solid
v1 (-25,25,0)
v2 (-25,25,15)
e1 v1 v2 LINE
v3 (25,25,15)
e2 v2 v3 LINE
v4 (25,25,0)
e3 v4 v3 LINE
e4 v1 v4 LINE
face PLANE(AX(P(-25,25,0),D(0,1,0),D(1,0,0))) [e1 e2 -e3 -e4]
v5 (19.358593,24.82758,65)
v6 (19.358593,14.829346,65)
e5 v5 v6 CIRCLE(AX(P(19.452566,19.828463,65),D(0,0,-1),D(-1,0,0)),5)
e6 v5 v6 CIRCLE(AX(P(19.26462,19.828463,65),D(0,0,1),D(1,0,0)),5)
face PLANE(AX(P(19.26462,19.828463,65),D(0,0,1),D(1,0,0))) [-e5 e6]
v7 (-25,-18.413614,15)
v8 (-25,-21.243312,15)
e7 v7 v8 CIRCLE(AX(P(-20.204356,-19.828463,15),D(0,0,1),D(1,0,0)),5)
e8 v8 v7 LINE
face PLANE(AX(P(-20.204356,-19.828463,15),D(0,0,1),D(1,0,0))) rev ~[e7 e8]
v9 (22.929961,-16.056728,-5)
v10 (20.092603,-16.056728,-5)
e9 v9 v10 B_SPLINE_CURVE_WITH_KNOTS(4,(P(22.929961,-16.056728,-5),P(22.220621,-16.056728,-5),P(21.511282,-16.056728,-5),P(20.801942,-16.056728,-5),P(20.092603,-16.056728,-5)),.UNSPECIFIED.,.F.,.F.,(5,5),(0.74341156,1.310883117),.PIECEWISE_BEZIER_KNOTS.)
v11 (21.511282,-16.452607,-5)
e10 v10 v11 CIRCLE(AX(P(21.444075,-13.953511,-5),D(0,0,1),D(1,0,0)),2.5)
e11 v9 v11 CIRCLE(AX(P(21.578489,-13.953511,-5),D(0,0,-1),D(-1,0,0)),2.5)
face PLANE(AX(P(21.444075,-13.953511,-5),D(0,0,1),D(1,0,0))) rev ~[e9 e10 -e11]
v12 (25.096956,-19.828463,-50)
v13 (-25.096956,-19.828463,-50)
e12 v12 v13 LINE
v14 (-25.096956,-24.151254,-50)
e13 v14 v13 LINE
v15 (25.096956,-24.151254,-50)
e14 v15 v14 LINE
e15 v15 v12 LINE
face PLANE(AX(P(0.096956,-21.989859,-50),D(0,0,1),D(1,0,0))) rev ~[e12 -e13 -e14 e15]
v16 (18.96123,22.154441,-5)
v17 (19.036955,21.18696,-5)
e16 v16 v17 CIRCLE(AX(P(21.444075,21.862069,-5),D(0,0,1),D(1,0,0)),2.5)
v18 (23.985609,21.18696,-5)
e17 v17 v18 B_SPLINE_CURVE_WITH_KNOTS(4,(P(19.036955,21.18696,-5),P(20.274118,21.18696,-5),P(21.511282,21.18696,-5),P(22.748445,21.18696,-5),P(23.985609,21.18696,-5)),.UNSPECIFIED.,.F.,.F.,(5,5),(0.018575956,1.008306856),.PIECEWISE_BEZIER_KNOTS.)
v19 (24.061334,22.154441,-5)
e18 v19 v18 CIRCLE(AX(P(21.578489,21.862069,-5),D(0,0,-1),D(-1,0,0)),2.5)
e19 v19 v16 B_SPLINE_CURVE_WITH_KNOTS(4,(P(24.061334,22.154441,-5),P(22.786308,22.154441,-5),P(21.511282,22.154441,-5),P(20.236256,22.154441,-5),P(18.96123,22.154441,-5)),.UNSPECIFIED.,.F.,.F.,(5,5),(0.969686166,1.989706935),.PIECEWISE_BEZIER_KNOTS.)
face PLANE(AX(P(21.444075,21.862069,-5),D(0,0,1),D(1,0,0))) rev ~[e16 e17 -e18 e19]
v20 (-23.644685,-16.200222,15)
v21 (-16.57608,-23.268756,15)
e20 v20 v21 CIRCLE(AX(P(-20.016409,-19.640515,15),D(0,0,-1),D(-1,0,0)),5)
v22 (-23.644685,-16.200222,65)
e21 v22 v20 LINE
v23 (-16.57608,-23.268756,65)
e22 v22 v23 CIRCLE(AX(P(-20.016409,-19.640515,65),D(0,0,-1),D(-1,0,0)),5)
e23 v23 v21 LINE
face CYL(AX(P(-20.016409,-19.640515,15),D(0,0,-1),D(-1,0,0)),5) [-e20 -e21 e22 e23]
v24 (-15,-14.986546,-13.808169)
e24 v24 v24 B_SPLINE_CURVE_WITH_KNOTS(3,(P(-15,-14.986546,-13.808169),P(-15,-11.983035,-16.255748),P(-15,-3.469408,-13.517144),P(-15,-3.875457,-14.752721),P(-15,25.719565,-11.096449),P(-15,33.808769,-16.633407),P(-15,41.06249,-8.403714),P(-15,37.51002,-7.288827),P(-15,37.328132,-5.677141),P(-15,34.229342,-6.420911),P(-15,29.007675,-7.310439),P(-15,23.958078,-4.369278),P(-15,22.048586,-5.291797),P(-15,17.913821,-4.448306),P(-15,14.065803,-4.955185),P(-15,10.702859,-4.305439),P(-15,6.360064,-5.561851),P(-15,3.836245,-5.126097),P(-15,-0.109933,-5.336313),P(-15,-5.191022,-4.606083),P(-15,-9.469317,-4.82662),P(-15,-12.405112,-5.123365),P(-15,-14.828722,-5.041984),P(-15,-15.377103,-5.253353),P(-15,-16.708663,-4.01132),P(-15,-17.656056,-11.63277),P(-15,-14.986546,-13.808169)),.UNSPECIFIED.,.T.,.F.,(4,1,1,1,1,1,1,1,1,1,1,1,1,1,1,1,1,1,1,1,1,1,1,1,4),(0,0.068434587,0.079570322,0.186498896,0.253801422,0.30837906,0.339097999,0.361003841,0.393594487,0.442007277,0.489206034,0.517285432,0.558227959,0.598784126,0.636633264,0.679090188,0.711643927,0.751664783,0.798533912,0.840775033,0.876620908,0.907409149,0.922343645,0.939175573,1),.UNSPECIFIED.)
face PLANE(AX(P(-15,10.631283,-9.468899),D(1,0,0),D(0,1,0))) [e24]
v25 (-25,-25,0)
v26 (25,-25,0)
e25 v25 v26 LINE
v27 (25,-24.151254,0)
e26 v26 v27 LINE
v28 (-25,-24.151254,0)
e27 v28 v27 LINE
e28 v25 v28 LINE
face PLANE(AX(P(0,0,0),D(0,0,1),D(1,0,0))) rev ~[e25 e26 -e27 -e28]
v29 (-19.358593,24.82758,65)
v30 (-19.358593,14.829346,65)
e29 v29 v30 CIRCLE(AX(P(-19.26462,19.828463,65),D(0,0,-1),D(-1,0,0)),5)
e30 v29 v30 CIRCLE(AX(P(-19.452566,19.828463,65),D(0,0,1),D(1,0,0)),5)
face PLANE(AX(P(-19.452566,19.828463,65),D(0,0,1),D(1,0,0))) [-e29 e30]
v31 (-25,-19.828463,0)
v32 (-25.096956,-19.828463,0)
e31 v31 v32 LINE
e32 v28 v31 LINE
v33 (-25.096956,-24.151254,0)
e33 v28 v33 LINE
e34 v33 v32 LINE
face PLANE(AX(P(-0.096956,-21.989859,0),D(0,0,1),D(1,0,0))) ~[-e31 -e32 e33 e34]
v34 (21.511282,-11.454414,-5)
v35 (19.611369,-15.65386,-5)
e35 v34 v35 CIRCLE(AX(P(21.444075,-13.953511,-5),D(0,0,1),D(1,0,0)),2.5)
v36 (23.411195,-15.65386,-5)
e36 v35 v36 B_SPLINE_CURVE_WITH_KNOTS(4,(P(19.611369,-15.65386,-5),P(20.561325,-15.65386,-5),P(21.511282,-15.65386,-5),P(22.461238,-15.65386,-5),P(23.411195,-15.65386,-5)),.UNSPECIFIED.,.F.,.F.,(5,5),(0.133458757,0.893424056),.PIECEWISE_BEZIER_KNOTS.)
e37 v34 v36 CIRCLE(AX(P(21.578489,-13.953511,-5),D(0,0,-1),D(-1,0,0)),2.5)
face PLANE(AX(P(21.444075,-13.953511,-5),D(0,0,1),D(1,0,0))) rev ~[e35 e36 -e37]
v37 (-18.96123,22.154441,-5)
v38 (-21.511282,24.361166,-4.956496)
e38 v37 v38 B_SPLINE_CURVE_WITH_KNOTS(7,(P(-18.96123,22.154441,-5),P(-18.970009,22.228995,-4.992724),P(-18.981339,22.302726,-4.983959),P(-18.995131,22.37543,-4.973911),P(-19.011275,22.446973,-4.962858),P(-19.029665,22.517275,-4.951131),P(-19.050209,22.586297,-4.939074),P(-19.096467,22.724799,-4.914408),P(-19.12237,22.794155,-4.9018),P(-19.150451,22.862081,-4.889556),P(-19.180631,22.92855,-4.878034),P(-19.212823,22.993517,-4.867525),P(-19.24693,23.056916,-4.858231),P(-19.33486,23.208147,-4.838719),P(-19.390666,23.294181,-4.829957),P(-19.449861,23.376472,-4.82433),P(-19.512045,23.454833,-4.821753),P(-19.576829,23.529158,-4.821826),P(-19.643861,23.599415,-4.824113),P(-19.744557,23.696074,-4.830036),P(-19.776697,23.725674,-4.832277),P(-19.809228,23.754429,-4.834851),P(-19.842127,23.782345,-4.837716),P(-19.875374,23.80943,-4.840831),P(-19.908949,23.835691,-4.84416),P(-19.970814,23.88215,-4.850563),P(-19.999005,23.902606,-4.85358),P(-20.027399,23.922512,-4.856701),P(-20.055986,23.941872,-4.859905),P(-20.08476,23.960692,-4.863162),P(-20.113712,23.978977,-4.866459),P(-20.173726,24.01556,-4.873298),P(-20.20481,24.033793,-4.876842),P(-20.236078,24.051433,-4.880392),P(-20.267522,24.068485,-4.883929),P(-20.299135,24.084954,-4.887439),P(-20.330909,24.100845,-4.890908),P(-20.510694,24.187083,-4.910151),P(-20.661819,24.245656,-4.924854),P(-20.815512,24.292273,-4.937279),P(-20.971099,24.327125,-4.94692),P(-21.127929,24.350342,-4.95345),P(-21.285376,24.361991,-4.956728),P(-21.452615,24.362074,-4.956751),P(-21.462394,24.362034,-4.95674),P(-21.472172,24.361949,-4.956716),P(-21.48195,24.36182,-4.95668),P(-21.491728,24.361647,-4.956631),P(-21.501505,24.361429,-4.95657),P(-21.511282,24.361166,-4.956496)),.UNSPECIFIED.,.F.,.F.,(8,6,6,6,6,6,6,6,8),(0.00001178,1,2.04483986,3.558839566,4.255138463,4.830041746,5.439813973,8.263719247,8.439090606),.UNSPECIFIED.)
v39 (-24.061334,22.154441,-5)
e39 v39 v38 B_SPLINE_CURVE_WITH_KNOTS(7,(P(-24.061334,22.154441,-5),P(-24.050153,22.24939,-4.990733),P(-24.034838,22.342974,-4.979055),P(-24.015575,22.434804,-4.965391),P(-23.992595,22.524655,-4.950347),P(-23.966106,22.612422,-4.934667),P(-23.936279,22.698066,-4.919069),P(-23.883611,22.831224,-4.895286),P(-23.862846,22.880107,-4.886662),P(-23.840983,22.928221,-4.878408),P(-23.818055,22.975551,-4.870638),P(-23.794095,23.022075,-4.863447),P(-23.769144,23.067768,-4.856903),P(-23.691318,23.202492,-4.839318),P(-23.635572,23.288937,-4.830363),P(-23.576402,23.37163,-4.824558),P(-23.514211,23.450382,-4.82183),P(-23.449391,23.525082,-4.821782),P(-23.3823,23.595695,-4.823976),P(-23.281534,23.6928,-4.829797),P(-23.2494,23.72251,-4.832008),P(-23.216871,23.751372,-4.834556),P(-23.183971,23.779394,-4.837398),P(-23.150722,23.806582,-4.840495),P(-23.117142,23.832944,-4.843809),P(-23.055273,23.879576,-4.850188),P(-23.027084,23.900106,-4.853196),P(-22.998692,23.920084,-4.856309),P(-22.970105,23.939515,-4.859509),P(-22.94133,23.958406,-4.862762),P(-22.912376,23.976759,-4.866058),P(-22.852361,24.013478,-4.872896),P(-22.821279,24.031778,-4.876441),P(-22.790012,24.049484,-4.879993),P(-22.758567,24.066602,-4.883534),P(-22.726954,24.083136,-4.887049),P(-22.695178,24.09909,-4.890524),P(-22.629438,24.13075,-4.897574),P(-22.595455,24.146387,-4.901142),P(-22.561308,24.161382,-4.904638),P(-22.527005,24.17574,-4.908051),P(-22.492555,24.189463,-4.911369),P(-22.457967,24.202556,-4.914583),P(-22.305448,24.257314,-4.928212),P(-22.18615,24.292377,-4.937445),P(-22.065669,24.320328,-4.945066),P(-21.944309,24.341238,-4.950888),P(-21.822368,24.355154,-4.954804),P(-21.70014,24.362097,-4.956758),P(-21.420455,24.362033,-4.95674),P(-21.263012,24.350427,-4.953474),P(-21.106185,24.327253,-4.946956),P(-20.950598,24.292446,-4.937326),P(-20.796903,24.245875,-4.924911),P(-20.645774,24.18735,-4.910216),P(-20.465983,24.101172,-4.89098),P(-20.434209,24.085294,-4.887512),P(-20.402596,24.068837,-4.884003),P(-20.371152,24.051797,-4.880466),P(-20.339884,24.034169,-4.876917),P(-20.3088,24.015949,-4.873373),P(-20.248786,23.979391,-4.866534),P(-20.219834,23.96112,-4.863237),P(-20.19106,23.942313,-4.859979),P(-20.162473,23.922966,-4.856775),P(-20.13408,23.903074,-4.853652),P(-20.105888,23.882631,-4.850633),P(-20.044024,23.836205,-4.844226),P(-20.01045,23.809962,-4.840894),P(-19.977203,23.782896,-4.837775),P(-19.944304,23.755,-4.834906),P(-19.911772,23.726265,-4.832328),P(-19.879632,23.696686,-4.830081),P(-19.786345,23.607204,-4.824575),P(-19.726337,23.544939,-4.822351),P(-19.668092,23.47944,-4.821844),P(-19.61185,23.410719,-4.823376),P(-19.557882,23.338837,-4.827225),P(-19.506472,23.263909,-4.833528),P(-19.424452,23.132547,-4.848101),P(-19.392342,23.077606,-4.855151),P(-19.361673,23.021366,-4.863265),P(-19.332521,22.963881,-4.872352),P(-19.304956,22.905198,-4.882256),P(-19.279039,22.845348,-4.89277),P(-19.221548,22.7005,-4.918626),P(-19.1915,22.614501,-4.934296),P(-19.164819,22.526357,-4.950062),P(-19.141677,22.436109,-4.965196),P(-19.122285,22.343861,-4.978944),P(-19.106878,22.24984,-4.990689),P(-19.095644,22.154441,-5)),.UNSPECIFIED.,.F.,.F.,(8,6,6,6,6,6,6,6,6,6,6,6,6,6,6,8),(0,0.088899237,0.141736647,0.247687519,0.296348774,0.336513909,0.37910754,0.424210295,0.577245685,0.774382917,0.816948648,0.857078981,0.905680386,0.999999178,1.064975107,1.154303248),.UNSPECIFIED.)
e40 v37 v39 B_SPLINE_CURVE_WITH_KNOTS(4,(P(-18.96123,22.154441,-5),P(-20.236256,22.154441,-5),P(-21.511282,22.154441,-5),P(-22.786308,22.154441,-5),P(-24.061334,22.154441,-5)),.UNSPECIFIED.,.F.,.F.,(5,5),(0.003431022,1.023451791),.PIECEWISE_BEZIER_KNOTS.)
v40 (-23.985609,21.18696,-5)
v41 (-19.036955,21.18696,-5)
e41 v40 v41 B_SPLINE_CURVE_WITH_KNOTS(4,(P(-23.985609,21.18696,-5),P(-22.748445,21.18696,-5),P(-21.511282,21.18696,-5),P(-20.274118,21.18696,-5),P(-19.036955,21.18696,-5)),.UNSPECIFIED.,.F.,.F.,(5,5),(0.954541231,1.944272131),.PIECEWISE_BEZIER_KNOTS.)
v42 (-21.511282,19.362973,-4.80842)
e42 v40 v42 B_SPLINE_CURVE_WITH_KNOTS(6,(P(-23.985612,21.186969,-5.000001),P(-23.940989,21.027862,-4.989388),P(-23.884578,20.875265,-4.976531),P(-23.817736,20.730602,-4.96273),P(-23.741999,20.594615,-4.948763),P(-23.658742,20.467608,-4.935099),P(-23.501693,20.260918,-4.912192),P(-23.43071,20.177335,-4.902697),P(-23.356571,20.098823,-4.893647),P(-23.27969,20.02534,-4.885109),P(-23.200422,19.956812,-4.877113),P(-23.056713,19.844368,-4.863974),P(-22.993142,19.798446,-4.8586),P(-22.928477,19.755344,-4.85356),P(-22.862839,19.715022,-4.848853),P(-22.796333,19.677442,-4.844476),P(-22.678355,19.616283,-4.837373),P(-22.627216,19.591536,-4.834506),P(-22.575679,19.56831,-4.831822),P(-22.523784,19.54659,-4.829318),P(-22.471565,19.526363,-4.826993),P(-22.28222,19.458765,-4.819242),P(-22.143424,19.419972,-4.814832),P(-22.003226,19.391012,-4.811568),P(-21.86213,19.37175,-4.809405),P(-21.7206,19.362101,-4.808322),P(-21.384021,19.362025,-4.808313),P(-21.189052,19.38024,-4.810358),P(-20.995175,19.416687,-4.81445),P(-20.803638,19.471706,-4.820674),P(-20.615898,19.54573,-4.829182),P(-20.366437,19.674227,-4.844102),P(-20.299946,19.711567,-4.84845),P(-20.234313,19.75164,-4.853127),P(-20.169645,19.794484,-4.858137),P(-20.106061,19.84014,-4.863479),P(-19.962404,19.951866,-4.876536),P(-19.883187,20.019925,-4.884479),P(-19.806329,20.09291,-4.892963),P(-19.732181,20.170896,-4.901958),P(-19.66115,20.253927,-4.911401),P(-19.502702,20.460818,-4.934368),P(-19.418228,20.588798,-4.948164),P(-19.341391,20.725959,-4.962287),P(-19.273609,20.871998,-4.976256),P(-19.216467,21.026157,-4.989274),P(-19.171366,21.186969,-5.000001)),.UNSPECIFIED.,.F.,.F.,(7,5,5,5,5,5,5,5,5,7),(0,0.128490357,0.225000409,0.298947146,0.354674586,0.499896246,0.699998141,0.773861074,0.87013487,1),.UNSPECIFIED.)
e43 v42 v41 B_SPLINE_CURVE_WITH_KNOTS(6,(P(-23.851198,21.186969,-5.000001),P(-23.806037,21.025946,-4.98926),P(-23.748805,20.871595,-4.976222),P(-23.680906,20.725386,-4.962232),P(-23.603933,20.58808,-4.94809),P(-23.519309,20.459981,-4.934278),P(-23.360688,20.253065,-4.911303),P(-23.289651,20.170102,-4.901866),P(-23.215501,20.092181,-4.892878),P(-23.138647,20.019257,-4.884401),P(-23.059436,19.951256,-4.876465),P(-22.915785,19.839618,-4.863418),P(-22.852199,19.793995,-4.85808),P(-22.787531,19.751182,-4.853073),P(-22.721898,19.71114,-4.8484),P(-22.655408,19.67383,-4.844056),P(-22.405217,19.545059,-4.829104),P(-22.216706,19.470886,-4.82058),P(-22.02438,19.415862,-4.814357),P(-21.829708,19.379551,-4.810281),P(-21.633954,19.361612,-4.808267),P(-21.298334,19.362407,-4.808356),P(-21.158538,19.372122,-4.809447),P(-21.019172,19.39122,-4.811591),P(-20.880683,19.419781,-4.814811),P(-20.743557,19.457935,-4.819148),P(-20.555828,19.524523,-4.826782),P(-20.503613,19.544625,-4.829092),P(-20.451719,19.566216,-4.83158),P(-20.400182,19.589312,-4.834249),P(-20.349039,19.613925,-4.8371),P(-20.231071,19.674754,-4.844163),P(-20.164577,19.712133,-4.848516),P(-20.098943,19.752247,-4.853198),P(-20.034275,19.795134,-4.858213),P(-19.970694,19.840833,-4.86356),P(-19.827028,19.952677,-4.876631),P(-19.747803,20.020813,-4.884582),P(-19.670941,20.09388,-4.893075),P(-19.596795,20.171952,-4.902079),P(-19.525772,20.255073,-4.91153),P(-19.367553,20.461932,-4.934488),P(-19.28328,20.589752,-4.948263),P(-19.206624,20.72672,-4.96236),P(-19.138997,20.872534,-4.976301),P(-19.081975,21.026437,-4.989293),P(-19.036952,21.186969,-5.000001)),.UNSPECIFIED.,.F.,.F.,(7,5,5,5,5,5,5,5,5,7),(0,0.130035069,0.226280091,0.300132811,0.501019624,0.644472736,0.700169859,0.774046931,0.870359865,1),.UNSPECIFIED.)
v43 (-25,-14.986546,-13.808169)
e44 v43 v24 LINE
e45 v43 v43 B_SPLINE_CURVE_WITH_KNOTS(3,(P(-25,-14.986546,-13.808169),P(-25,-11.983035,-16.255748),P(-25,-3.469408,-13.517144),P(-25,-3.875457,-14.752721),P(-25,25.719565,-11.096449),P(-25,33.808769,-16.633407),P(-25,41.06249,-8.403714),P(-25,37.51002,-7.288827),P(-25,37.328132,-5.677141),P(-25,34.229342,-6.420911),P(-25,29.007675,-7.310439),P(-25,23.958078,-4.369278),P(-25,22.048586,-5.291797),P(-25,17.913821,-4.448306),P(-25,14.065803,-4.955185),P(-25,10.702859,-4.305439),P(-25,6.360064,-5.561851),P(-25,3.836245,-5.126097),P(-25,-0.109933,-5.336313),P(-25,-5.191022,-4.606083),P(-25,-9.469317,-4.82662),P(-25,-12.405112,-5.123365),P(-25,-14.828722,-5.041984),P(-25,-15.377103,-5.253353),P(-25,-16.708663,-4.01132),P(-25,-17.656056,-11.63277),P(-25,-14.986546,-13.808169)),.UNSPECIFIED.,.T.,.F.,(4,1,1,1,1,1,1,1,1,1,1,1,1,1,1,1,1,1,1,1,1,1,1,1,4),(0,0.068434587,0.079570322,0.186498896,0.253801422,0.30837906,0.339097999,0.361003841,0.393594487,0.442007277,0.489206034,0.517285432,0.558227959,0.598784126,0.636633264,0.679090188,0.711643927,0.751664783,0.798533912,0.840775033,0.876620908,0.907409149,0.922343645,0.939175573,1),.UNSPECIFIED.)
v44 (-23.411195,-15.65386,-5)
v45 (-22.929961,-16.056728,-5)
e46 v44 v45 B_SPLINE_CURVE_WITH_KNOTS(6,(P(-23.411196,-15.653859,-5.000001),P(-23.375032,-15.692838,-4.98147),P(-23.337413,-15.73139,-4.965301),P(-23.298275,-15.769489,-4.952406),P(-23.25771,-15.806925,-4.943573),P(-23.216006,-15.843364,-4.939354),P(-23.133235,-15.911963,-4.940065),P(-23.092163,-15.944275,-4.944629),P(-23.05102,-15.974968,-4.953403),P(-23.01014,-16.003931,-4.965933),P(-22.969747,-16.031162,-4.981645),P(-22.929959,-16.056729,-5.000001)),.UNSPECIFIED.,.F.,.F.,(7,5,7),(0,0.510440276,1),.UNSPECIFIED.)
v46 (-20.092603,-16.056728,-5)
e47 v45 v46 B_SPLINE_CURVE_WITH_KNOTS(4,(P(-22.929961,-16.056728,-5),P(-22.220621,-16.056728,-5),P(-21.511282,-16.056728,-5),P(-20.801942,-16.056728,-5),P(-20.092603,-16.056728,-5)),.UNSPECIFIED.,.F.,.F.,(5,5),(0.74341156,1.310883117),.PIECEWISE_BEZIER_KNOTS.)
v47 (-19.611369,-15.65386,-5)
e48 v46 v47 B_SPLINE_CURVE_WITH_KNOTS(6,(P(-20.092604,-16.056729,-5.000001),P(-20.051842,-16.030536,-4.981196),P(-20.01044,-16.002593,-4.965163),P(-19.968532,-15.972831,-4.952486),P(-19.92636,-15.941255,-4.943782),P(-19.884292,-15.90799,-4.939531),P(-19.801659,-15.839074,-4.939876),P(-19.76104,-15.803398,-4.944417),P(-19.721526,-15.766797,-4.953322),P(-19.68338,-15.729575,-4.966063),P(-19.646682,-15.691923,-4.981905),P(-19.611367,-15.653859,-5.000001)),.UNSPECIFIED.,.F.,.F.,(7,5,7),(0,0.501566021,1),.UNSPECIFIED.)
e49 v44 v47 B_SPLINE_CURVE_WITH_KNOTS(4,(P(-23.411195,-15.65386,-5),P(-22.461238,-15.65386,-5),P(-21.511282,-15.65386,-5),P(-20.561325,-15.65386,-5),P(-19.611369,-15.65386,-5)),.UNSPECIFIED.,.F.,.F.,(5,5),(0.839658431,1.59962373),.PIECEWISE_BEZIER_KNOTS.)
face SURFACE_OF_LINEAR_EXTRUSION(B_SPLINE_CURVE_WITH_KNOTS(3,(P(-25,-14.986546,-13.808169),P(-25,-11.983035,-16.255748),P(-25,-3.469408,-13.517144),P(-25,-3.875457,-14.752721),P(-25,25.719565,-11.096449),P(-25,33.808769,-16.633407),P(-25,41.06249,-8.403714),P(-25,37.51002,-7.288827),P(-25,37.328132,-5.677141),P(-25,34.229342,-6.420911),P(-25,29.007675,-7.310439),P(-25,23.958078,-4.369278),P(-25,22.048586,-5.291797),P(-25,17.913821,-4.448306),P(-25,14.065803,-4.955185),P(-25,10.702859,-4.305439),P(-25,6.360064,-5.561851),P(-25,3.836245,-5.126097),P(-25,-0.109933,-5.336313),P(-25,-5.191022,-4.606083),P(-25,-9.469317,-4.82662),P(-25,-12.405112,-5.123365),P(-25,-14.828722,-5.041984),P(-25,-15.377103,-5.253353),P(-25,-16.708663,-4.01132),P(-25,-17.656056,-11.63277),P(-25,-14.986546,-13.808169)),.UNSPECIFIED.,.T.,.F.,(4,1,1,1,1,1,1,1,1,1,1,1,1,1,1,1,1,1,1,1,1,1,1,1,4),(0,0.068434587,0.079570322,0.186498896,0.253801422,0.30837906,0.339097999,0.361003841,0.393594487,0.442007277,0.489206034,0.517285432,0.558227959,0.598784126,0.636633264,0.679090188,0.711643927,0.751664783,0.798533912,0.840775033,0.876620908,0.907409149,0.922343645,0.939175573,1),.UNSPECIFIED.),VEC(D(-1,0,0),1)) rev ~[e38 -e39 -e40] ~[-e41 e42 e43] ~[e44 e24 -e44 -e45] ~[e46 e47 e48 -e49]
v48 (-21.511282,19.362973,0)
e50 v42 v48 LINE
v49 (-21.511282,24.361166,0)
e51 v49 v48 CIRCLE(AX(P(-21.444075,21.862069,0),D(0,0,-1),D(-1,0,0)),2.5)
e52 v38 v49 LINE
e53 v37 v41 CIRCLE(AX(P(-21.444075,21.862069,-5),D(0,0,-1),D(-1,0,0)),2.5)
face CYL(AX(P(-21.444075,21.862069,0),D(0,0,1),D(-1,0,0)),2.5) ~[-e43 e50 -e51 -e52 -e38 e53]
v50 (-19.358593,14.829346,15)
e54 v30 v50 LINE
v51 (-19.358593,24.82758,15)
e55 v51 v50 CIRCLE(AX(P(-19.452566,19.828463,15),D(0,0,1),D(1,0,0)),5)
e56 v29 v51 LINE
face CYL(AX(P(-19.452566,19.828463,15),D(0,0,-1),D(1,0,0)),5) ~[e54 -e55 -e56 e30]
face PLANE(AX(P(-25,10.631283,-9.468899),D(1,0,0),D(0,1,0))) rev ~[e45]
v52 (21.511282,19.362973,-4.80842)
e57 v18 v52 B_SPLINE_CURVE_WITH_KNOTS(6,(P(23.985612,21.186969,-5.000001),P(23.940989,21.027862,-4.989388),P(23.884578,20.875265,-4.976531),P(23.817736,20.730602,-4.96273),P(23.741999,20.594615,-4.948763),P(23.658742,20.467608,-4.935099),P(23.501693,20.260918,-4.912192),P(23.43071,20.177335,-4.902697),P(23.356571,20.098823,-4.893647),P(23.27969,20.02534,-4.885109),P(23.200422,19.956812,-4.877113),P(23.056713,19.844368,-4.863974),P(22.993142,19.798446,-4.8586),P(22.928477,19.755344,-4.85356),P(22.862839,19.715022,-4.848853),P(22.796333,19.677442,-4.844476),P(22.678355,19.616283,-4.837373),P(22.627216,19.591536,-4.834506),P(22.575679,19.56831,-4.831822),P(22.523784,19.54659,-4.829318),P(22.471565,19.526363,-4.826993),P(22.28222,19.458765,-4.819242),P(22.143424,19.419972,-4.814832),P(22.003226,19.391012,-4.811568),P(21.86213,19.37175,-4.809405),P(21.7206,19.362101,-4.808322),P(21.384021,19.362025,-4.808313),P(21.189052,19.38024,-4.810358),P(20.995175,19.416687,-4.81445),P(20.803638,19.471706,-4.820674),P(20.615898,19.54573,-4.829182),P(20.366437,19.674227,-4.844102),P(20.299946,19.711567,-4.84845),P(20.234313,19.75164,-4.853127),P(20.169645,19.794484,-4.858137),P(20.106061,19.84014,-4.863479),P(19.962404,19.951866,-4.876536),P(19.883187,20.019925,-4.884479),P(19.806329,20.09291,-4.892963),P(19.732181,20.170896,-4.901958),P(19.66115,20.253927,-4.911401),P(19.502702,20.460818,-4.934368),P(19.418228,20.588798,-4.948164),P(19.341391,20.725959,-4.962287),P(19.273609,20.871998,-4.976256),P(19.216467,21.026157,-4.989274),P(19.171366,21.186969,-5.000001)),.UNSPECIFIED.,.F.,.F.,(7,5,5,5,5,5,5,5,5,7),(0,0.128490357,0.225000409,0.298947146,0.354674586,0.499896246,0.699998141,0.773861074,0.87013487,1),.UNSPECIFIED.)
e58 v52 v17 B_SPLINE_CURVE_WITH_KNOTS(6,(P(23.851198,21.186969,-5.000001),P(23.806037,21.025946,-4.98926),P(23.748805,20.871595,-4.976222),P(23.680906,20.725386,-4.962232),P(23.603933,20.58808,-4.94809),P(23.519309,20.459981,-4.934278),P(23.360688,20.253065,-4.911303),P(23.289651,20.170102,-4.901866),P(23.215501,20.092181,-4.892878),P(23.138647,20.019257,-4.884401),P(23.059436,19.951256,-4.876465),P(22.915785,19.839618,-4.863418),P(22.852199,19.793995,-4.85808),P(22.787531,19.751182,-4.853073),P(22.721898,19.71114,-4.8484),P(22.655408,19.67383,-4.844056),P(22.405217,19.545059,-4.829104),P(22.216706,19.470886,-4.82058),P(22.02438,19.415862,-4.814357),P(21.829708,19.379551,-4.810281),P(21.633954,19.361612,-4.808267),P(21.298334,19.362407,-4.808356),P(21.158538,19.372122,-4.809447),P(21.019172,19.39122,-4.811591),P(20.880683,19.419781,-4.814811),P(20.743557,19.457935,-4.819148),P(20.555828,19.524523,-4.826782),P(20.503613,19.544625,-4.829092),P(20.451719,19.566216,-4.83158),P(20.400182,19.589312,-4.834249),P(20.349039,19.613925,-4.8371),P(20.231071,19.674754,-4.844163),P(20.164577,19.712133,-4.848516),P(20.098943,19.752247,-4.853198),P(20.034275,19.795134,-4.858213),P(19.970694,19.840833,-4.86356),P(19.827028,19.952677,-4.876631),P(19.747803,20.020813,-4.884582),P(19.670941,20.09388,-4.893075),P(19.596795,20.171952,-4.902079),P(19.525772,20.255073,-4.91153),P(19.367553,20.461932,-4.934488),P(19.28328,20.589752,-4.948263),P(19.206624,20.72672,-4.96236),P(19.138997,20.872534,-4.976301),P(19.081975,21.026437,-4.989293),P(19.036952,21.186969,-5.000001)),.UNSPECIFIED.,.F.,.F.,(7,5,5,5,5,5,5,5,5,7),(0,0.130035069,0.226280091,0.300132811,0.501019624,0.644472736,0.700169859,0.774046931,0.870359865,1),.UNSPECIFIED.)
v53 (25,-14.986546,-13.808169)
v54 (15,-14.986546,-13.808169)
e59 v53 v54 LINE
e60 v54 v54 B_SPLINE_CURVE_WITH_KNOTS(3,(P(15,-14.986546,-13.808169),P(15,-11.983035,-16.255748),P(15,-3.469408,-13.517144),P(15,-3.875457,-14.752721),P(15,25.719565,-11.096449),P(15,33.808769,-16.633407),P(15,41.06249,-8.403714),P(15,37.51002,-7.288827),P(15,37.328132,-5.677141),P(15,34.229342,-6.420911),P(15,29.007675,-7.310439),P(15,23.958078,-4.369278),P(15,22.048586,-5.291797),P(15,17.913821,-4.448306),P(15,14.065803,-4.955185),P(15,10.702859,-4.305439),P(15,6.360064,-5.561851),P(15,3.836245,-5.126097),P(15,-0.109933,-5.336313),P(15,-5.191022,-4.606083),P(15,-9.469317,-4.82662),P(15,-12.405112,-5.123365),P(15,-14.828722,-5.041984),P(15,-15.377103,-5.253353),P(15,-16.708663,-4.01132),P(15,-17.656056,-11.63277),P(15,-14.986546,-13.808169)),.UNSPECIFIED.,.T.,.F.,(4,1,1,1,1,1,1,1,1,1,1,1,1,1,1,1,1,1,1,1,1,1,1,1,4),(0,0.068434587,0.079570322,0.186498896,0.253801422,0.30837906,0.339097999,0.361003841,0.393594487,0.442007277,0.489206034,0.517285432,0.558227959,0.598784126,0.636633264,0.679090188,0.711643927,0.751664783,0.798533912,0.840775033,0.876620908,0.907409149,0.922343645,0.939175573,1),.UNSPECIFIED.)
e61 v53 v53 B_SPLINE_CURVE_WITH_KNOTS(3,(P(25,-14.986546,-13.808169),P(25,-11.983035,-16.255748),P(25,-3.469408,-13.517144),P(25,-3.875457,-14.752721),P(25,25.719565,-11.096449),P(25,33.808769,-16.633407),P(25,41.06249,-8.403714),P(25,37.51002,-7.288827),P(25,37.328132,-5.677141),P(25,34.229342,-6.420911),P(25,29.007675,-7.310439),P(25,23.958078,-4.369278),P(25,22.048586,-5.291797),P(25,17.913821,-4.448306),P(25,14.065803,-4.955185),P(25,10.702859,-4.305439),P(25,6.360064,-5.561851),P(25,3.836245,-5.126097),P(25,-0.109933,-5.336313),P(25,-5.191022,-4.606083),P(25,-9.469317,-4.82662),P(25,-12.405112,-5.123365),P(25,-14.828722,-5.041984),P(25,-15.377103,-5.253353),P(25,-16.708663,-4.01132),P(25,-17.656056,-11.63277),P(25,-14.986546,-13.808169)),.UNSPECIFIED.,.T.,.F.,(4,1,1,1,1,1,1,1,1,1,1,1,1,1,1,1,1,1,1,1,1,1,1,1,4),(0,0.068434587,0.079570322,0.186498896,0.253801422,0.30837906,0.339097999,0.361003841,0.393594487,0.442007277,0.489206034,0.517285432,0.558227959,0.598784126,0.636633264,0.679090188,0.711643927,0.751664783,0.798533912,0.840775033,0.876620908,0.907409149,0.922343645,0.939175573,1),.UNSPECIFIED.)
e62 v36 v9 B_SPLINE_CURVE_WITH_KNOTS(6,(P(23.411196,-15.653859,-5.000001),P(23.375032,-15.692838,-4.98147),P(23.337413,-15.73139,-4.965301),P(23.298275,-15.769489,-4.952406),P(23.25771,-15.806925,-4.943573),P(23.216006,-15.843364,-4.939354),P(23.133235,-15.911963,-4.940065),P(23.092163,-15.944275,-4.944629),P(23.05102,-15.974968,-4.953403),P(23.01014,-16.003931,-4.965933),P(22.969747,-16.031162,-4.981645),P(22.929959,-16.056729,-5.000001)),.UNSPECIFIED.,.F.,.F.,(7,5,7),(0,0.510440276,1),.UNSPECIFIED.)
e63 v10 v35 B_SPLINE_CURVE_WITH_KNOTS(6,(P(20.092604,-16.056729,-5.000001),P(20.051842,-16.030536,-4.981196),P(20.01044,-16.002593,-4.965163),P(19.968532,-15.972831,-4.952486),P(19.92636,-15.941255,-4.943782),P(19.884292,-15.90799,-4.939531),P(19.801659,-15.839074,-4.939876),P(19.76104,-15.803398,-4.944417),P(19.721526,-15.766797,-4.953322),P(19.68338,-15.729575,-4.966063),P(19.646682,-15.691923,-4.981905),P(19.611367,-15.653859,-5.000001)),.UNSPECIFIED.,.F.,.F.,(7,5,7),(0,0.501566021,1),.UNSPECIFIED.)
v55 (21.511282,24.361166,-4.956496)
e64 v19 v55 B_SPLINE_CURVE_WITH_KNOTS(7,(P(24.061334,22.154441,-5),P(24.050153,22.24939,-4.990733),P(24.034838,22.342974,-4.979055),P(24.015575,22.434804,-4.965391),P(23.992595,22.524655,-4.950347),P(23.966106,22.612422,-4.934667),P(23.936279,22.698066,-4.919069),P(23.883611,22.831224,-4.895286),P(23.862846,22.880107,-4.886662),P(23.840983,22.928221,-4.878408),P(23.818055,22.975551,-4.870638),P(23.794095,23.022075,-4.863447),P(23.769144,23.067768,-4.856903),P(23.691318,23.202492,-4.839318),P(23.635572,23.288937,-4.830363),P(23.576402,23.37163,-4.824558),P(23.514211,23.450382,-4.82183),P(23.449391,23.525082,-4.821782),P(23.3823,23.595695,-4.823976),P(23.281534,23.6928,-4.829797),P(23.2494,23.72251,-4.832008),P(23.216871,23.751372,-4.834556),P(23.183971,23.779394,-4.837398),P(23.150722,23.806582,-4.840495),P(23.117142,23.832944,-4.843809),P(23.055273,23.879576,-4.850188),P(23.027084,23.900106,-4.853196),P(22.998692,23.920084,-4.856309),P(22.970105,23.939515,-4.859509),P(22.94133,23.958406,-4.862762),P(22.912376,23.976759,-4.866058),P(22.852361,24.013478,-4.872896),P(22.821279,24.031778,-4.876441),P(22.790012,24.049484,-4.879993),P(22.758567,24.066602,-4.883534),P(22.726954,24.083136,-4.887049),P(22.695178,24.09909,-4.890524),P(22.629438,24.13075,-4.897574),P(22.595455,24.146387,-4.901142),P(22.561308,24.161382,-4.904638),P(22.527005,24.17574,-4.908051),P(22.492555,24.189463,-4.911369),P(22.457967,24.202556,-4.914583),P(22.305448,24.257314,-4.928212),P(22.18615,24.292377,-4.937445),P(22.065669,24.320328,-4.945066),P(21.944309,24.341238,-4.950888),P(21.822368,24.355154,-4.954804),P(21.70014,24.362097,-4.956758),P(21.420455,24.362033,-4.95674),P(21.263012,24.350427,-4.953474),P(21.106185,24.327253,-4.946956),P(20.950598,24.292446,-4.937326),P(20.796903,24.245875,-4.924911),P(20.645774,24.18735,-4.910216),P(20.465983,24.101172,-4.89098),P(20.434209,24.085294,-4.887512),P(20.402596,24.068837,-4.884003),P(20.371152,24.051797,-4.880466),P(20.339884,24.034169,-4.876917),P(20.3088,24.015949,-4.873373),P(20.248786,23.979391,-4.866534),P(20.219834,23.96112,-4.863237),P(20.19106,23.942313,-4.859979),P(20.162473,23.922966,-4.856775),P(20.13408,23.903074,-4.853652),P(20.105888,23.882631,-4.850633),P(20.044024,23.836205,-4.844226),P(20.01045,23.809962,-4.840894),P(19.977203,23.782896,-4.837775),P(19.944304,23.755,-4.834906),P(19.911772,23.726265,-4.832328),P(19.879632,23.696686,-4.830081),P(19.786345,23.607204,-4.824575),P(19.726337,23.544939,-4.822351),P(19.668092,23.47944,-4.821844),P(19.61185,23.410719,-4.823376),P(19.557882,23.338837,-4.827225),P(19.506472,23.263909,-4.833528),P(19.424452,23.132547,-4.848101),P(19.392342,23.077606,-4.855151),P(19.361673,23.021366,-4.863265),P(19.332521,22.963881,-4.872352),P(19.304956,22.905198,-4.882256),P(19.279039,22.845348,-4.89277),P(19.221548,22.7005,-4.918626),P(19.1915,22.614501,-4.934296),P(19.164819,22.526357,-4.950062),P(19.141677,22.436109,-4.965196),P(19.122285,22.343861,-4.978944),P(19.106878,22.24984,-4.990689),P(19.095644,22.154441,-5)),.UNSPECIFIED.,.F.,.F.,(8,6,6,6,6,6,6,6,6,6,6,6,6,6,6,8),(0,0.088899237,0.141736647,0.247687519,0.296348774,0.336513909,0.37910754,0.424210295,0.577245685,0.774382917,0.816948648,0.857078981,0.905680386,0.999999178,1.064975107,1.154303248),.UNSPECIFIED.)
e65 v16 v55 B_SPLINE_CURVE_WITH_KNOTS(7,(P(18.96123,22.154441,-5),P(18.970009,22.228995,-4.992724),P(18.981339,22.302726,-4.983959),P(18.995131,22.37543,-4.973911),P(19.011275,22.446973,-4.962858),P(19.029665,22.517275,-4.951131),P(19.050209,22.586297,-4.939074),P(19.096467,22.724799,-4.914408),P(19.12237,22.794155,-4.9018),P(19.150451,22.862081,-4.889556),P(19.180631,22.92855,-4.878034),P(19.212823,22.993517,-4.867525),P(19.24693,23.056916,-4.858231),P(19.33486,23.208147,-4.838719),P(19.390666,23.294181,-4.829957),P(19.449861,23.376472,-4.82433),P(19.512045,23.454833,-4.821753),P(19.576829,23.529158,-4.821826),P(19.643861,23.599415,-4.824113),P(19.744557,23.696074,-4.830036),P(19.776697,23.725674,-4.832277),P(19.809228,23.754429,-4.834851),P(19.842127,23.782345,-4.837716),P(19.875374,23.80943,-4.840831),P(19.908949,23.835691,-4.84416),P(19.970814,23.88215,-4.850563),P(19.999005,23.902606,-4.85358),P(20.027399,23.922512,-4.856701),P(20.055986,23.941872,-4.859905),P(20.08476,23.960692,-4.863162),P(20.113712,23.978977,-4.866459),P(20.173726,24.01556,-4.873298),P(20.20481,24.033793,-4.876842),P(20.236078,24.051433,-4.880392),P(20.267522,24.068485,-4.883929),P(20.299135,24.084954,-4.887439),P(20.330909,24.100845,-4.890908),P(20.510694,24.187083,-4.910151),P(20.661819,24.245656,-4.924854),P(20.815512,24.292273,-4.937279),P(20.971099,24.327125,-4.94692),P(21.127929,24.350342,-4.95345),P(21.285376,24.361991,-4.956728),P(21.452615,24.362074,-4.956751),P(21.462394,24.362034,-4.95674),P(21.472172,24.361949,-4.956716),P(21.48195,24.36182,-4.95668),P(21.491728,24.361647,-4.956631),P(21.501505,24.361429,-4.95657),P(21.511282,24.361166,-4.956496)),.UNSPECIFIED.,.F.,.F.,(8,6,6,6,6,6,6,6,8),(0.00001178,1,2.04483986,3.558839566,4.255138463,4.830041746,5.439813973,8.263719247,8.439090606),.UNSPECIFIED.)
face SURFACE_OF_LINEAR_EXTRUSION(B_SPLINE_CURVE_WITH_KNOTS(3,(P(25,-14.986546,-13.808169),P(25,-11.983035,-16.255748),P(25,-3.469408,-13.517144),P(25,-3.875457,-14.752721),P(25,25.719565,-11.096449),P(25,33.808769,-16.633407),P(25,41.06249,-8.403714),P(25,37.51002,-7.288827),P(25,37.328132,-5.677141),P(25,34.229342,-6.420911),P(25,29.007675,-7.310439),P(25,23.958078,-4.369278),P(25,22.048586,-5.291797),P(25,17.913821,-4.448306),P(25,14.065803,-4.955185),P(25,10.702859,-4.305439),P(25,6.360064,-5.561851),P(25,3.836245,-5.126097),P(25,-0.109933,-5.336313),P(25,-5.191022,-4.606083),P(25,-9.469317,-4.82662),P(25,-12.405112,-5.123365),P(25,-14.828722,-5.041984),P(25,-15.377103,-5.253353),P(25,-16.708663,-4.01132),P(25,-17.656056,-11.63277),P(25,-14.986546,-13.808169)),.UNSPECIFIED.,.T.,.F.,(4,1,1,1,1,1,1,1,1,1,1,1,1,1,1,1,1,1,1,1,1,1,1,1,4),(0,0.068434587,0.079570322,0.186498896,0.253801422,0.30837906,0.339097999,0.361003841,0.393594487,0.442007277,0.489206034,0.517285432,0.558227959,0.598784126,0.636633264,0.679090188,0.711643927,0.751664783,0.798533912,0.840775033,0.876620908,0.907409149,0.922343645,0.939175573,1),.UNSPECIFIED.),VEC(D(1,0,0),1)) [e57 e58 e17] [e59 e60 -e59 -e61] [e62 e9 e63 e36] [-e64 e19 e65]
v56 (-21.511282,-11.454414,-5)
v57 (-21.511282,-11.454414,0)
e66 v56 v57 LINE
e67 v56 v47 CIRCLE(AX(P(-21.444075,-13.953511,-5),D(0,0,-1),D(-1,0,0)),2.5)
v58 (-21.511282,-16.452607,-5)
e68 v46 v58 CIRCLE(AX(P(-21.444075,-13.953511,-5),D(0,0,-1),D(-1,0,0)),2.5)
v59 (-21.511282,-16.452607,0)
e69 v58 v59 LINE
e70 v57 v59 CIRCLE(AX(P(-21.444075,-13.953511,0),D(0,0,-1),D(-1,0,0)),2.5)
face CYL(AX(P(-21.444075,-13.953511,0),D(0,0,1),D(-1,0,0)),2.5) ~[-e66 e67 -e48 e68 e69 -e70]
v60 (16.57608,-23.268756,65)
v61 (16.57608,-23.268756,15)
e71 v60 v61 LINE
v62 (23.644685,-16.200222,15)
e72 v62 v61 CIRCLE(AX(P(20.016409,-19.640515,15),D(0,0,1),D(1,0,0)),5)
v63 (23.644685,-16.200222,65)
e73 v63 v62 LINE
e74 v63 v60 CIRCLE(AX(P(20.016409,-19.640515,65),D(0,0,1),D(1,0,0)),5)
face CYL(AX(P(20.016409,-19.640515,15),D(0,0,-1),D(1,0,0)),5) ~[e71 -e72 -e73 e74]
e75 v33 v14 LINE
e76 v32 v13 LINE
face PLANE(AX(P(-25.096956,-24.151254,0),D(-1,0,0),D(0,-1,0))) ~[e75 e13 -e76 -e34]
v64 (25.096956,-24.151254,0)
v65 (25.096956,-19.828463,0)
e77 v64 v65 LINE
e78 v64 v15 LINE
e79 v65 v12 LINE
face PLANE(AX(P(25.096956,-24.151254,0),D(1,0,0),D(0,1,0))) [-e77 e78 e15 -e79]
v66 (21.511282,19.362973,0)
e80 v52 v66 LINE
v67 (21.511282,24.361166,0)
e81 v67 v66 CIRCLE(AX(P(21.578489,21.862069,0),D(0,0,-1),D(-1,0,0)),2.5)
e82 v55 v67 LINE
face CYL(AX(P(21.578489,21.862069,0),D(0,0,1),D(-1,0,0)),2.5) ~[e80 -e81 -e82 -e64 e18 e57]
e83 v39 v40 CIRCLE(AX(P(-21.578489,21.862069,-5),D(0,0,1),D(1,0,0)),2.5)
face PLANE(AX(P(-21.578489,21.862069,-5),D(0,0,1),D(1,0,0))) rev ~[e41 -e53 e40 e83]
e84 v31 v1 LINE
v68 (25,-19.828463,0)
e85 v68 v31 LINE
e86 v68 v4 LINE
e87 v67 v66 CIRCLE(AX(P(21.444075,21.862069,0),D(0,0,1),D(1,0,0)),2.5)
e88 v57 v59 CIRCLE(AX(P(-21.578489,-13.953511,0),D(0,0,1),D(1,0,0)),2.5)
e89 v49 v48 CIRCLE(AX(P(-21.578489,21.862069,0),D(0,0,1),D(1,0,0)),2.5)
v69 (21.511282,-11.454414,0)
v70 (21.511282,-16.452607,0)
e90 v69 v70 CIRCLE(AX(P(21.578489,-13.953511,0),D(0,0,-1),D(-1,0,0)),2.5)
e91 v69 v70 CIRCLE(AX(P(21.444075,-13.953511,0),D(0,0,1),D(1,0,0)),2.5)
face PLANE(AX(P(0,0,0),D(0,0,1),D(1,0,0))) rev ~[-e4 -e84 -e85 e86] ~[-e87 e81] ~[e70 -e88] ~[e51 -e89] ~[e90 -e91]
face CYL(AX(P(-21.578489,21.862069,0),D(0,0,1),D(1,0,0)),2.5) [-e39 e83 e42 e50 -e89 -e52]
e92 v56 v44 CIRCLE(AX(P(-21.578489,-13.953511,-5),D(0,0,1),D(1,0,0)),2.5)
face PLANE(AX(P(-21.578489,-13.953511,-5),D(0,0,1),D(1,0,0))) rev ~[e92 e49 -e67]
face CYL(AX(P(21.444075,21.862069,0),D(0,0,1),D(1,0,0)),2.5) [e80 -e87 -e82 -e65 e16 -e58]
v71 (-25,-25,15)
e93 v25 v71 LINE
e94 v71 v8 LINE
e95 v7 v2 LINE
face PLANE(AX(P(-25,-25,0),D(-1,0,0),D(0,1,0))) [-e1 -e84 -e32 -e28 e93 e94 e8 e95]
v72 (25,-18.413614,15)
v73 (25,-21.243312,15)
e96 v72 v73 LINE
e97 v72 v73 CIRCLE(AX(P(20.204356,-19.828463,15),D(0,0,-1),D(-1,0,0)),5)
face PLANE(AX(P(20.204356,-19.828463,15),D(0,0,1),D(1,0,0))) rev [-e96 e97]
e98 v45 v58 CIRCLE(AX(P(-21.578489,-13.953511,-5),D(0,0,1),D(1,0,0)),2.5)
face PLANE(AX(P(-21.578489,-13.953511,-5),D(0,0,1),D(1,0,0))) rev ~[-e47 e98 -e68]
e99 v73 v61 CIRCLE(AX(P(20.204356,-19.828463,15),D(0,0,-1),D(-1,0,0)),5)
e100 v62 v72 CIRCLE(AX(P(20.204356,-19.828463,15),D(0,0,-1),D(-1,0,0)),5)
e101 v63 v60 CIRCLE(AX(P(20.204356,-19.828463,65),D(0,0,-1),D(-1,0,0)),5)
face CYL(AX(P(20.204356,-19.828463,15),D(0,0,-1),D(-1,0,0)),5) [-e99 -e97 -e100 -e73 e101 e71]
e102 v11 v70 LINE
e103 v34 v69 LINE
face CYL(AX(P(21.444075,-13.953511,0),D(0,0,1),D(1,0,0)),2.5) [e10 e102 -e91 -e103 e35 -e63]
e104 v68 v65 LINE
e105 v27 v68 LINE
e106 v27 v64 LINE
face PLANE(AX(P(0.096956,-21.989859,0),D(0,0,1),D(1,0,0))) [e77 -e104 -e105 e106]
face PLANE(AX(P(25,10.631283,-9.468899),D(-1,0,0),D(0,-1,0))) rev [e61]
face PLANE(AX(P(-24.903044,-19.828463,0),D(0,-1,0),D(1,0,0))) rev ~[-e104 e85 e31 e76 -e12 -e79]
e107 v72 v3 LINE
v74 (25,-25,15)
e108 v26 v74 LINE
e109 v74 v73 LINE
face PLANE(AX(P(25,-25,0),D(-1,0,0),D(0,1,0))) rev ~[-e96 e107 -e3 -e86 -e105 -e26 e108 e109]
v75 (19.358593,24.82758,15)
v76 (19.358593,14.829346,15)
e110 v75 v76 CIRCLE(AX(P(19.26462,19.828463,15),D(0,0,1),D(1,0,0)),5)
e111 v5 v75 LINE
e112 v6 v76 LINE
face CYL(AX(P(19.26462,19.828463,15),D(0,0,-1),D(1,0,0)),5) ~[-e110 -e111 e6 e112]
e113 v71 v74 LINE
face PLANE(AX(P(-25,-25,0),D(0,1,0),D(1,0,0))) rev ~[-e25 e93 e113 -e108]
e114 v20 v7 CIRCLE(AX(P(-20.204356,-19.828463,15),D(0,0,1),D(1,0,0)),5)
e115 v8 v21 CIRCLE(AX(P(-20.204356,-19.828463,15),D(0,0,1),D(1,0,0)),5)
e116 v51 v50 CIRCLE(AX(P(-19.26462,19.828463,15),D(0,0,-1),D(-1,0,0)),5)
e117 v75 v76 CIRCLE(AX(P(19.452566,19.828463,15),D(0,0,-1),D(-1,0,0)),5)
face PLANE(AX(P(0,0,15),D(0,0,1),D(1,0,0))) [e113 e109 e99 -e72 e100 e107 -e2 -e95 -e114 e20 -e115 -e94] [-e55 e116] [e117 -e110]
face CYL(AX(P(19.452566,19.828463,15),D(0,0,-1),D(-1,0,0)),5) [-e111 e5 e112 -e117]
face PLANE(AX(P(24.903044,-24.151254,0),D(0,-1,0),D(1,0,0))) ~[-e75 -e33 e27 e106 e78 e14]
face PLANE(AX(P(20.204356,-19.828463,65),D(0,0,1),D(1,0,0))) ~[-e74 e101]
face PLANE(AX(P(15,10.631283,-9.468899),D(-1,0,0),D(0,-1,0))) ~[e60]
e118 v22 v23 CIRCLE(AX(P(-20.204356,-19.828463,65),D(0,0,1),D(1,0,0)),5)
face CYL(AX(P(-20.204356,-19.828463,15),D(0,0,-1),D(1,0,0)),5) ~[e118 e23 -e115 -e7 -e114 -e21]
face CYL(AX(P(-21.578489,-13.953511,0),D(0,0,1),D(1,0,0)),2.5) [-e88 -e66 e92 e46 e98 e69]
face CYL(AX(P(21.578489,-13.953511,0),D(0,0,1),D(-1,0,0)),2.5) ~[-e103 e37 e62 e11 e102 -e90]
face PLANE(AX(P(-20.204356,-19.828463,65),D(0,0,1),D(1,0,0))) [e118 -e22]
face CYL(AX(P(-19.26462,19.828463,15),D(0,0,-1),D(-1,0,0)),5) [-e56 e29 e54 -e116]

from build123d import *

# Parameters (mm, degrees)
F0_W      = 50
F0_H      = 50
F1_DEPTH  = 15
F2_R      = 5
F3_DEPTH  = 50
F4_DEPTH  = 50
F5_W      = 50
F5_H      = 4.3227914721
F6_DEPTH  = 50
F7_R      = 2.5
F8_DEPTH  = 5
F11_DEPTH = 10


with BuildPart() as f1:
    # F0 (on Top) → F1 (new body)
    with BuildSketch(Plane.XY):
        Rectangle(F0_W, F0_H)
    extrude(amount=F1_DEPTH)

    # F2 (on face) → F3 (join)
    with BuildSketch(Plane.XY.offset(15)):
        with Locations((-19.452566281, 19.8284629732)):
            Circle(F2_R)
    extrude(amount=F3_DEPTH)

    # F2 (on face) → F4 (join)
    with BuildSketch(Plane.XY.offset(15)):
        with Locations((-19.452566281, 19.8284629732)):
            Circle(F2_R)
        with Locations((19.2646197975, 19.8284629732)):
            Circle(F2_R)
        with Locations((20.0164094567, -19.6405146271)):
            Circle(F2_R)
        with Locations((-20.2043559402, -19.8284629732)):
            Circle(F2_R)
    extrude(amount=F4_DEPTH)

    # F5 (on Top) → F6 (join)
    with BuildSketch(Plane.XY):
        with Locations((0.0969558954, -21.9898587093)):
            Rectangle(F5_W, F5_H)
    extrude(amount=-F6_DEPTH)

    # F7 (on Top) → F8 (join)
    with BuildSketch(Plane.XY):
        with Locations((-21.5784888715, -13.9535106719)):
            Circle(F7_R)
        with Locations((-21.5784888715, 21.8620691448)):
            Circle(F7_R)
        with Locations((21.4440748096, 21.8620691448)):
            Circle(F7_R)
        with Locations((21.4440748096, -13.9535106719)):
            Circle(F7_R)
    extrude(amount=-F8_DEPTH)

    # F10 (on offset) → F11 (join)
    with BuildSketch(Plane.YZ.offset(-25)):
        with BuildLine():
            add(Edge.make_bspline(
                [(-14.9865457788, -13.8081694022), (-11.9830351299, -16.2557475963), (-3.4694080731, -13.5171438298), (-3.8754566001, -14.7527208894), (25.7195651769, -11.096449296), (33.8087685612, -16.6334073007), (41.0624903149, -8.4037137454), (37.5100199232, -7.2888270735), (37.328131563, -5.677141079), (34.2293422962, -6.4209112831), (29.007674944, -7.3104394187), (23.9580776231, -4.369277894), (22.0485864613, -5.2917968402), (17.9138206679, -4.4483057912), (14.0658027192, -4.9551851177), (10.702859379, -4.3054390504), (6.3600639941, -5.5618505904), (3.8362450828, -5.1260969204), (-0.109932757, -5.3363127108), (-5.1910222612, -4.6060834589), (-9.4693172652, -4.8266204041), (-12.4051124234, -5.1233648989), (-14.8287222638, -5.0419836599), (-15.3771025403, -5.253352609), (-16.7086626663, -4.0113195095), (-17.6560557819, -11.6327702655), (-14.9865457788, -13.8081694022)],
                knots=[0, 0, 0, 0, 0.0684345872, 0.0795703224, 0.1864988957, 0.2538014219, 0.3083790604, 0.3390979991, 0.3610038407, 0.3935944875, 0.4420072773, 0.4892060345, 0.5172854322, 0.5582279592, 0.5987841259, 0.6366332642, 0.6790901876, 0.7116439271, 0.7516647833, 0.7985339121, 0.8407750327, 0.8766209078, 0.9074091495, 0.9223436454, 0.9391755727, 1, 1, 1, 1], degree=3))
        make_face()
    extrude(amount=F11_DEPTH)

    # F12: F1 across plane


with BuildPart() as f1_1:
    add(f1.part)
    add(f1.part.mirror(Plane.YZ))


solid = f1_1.part
